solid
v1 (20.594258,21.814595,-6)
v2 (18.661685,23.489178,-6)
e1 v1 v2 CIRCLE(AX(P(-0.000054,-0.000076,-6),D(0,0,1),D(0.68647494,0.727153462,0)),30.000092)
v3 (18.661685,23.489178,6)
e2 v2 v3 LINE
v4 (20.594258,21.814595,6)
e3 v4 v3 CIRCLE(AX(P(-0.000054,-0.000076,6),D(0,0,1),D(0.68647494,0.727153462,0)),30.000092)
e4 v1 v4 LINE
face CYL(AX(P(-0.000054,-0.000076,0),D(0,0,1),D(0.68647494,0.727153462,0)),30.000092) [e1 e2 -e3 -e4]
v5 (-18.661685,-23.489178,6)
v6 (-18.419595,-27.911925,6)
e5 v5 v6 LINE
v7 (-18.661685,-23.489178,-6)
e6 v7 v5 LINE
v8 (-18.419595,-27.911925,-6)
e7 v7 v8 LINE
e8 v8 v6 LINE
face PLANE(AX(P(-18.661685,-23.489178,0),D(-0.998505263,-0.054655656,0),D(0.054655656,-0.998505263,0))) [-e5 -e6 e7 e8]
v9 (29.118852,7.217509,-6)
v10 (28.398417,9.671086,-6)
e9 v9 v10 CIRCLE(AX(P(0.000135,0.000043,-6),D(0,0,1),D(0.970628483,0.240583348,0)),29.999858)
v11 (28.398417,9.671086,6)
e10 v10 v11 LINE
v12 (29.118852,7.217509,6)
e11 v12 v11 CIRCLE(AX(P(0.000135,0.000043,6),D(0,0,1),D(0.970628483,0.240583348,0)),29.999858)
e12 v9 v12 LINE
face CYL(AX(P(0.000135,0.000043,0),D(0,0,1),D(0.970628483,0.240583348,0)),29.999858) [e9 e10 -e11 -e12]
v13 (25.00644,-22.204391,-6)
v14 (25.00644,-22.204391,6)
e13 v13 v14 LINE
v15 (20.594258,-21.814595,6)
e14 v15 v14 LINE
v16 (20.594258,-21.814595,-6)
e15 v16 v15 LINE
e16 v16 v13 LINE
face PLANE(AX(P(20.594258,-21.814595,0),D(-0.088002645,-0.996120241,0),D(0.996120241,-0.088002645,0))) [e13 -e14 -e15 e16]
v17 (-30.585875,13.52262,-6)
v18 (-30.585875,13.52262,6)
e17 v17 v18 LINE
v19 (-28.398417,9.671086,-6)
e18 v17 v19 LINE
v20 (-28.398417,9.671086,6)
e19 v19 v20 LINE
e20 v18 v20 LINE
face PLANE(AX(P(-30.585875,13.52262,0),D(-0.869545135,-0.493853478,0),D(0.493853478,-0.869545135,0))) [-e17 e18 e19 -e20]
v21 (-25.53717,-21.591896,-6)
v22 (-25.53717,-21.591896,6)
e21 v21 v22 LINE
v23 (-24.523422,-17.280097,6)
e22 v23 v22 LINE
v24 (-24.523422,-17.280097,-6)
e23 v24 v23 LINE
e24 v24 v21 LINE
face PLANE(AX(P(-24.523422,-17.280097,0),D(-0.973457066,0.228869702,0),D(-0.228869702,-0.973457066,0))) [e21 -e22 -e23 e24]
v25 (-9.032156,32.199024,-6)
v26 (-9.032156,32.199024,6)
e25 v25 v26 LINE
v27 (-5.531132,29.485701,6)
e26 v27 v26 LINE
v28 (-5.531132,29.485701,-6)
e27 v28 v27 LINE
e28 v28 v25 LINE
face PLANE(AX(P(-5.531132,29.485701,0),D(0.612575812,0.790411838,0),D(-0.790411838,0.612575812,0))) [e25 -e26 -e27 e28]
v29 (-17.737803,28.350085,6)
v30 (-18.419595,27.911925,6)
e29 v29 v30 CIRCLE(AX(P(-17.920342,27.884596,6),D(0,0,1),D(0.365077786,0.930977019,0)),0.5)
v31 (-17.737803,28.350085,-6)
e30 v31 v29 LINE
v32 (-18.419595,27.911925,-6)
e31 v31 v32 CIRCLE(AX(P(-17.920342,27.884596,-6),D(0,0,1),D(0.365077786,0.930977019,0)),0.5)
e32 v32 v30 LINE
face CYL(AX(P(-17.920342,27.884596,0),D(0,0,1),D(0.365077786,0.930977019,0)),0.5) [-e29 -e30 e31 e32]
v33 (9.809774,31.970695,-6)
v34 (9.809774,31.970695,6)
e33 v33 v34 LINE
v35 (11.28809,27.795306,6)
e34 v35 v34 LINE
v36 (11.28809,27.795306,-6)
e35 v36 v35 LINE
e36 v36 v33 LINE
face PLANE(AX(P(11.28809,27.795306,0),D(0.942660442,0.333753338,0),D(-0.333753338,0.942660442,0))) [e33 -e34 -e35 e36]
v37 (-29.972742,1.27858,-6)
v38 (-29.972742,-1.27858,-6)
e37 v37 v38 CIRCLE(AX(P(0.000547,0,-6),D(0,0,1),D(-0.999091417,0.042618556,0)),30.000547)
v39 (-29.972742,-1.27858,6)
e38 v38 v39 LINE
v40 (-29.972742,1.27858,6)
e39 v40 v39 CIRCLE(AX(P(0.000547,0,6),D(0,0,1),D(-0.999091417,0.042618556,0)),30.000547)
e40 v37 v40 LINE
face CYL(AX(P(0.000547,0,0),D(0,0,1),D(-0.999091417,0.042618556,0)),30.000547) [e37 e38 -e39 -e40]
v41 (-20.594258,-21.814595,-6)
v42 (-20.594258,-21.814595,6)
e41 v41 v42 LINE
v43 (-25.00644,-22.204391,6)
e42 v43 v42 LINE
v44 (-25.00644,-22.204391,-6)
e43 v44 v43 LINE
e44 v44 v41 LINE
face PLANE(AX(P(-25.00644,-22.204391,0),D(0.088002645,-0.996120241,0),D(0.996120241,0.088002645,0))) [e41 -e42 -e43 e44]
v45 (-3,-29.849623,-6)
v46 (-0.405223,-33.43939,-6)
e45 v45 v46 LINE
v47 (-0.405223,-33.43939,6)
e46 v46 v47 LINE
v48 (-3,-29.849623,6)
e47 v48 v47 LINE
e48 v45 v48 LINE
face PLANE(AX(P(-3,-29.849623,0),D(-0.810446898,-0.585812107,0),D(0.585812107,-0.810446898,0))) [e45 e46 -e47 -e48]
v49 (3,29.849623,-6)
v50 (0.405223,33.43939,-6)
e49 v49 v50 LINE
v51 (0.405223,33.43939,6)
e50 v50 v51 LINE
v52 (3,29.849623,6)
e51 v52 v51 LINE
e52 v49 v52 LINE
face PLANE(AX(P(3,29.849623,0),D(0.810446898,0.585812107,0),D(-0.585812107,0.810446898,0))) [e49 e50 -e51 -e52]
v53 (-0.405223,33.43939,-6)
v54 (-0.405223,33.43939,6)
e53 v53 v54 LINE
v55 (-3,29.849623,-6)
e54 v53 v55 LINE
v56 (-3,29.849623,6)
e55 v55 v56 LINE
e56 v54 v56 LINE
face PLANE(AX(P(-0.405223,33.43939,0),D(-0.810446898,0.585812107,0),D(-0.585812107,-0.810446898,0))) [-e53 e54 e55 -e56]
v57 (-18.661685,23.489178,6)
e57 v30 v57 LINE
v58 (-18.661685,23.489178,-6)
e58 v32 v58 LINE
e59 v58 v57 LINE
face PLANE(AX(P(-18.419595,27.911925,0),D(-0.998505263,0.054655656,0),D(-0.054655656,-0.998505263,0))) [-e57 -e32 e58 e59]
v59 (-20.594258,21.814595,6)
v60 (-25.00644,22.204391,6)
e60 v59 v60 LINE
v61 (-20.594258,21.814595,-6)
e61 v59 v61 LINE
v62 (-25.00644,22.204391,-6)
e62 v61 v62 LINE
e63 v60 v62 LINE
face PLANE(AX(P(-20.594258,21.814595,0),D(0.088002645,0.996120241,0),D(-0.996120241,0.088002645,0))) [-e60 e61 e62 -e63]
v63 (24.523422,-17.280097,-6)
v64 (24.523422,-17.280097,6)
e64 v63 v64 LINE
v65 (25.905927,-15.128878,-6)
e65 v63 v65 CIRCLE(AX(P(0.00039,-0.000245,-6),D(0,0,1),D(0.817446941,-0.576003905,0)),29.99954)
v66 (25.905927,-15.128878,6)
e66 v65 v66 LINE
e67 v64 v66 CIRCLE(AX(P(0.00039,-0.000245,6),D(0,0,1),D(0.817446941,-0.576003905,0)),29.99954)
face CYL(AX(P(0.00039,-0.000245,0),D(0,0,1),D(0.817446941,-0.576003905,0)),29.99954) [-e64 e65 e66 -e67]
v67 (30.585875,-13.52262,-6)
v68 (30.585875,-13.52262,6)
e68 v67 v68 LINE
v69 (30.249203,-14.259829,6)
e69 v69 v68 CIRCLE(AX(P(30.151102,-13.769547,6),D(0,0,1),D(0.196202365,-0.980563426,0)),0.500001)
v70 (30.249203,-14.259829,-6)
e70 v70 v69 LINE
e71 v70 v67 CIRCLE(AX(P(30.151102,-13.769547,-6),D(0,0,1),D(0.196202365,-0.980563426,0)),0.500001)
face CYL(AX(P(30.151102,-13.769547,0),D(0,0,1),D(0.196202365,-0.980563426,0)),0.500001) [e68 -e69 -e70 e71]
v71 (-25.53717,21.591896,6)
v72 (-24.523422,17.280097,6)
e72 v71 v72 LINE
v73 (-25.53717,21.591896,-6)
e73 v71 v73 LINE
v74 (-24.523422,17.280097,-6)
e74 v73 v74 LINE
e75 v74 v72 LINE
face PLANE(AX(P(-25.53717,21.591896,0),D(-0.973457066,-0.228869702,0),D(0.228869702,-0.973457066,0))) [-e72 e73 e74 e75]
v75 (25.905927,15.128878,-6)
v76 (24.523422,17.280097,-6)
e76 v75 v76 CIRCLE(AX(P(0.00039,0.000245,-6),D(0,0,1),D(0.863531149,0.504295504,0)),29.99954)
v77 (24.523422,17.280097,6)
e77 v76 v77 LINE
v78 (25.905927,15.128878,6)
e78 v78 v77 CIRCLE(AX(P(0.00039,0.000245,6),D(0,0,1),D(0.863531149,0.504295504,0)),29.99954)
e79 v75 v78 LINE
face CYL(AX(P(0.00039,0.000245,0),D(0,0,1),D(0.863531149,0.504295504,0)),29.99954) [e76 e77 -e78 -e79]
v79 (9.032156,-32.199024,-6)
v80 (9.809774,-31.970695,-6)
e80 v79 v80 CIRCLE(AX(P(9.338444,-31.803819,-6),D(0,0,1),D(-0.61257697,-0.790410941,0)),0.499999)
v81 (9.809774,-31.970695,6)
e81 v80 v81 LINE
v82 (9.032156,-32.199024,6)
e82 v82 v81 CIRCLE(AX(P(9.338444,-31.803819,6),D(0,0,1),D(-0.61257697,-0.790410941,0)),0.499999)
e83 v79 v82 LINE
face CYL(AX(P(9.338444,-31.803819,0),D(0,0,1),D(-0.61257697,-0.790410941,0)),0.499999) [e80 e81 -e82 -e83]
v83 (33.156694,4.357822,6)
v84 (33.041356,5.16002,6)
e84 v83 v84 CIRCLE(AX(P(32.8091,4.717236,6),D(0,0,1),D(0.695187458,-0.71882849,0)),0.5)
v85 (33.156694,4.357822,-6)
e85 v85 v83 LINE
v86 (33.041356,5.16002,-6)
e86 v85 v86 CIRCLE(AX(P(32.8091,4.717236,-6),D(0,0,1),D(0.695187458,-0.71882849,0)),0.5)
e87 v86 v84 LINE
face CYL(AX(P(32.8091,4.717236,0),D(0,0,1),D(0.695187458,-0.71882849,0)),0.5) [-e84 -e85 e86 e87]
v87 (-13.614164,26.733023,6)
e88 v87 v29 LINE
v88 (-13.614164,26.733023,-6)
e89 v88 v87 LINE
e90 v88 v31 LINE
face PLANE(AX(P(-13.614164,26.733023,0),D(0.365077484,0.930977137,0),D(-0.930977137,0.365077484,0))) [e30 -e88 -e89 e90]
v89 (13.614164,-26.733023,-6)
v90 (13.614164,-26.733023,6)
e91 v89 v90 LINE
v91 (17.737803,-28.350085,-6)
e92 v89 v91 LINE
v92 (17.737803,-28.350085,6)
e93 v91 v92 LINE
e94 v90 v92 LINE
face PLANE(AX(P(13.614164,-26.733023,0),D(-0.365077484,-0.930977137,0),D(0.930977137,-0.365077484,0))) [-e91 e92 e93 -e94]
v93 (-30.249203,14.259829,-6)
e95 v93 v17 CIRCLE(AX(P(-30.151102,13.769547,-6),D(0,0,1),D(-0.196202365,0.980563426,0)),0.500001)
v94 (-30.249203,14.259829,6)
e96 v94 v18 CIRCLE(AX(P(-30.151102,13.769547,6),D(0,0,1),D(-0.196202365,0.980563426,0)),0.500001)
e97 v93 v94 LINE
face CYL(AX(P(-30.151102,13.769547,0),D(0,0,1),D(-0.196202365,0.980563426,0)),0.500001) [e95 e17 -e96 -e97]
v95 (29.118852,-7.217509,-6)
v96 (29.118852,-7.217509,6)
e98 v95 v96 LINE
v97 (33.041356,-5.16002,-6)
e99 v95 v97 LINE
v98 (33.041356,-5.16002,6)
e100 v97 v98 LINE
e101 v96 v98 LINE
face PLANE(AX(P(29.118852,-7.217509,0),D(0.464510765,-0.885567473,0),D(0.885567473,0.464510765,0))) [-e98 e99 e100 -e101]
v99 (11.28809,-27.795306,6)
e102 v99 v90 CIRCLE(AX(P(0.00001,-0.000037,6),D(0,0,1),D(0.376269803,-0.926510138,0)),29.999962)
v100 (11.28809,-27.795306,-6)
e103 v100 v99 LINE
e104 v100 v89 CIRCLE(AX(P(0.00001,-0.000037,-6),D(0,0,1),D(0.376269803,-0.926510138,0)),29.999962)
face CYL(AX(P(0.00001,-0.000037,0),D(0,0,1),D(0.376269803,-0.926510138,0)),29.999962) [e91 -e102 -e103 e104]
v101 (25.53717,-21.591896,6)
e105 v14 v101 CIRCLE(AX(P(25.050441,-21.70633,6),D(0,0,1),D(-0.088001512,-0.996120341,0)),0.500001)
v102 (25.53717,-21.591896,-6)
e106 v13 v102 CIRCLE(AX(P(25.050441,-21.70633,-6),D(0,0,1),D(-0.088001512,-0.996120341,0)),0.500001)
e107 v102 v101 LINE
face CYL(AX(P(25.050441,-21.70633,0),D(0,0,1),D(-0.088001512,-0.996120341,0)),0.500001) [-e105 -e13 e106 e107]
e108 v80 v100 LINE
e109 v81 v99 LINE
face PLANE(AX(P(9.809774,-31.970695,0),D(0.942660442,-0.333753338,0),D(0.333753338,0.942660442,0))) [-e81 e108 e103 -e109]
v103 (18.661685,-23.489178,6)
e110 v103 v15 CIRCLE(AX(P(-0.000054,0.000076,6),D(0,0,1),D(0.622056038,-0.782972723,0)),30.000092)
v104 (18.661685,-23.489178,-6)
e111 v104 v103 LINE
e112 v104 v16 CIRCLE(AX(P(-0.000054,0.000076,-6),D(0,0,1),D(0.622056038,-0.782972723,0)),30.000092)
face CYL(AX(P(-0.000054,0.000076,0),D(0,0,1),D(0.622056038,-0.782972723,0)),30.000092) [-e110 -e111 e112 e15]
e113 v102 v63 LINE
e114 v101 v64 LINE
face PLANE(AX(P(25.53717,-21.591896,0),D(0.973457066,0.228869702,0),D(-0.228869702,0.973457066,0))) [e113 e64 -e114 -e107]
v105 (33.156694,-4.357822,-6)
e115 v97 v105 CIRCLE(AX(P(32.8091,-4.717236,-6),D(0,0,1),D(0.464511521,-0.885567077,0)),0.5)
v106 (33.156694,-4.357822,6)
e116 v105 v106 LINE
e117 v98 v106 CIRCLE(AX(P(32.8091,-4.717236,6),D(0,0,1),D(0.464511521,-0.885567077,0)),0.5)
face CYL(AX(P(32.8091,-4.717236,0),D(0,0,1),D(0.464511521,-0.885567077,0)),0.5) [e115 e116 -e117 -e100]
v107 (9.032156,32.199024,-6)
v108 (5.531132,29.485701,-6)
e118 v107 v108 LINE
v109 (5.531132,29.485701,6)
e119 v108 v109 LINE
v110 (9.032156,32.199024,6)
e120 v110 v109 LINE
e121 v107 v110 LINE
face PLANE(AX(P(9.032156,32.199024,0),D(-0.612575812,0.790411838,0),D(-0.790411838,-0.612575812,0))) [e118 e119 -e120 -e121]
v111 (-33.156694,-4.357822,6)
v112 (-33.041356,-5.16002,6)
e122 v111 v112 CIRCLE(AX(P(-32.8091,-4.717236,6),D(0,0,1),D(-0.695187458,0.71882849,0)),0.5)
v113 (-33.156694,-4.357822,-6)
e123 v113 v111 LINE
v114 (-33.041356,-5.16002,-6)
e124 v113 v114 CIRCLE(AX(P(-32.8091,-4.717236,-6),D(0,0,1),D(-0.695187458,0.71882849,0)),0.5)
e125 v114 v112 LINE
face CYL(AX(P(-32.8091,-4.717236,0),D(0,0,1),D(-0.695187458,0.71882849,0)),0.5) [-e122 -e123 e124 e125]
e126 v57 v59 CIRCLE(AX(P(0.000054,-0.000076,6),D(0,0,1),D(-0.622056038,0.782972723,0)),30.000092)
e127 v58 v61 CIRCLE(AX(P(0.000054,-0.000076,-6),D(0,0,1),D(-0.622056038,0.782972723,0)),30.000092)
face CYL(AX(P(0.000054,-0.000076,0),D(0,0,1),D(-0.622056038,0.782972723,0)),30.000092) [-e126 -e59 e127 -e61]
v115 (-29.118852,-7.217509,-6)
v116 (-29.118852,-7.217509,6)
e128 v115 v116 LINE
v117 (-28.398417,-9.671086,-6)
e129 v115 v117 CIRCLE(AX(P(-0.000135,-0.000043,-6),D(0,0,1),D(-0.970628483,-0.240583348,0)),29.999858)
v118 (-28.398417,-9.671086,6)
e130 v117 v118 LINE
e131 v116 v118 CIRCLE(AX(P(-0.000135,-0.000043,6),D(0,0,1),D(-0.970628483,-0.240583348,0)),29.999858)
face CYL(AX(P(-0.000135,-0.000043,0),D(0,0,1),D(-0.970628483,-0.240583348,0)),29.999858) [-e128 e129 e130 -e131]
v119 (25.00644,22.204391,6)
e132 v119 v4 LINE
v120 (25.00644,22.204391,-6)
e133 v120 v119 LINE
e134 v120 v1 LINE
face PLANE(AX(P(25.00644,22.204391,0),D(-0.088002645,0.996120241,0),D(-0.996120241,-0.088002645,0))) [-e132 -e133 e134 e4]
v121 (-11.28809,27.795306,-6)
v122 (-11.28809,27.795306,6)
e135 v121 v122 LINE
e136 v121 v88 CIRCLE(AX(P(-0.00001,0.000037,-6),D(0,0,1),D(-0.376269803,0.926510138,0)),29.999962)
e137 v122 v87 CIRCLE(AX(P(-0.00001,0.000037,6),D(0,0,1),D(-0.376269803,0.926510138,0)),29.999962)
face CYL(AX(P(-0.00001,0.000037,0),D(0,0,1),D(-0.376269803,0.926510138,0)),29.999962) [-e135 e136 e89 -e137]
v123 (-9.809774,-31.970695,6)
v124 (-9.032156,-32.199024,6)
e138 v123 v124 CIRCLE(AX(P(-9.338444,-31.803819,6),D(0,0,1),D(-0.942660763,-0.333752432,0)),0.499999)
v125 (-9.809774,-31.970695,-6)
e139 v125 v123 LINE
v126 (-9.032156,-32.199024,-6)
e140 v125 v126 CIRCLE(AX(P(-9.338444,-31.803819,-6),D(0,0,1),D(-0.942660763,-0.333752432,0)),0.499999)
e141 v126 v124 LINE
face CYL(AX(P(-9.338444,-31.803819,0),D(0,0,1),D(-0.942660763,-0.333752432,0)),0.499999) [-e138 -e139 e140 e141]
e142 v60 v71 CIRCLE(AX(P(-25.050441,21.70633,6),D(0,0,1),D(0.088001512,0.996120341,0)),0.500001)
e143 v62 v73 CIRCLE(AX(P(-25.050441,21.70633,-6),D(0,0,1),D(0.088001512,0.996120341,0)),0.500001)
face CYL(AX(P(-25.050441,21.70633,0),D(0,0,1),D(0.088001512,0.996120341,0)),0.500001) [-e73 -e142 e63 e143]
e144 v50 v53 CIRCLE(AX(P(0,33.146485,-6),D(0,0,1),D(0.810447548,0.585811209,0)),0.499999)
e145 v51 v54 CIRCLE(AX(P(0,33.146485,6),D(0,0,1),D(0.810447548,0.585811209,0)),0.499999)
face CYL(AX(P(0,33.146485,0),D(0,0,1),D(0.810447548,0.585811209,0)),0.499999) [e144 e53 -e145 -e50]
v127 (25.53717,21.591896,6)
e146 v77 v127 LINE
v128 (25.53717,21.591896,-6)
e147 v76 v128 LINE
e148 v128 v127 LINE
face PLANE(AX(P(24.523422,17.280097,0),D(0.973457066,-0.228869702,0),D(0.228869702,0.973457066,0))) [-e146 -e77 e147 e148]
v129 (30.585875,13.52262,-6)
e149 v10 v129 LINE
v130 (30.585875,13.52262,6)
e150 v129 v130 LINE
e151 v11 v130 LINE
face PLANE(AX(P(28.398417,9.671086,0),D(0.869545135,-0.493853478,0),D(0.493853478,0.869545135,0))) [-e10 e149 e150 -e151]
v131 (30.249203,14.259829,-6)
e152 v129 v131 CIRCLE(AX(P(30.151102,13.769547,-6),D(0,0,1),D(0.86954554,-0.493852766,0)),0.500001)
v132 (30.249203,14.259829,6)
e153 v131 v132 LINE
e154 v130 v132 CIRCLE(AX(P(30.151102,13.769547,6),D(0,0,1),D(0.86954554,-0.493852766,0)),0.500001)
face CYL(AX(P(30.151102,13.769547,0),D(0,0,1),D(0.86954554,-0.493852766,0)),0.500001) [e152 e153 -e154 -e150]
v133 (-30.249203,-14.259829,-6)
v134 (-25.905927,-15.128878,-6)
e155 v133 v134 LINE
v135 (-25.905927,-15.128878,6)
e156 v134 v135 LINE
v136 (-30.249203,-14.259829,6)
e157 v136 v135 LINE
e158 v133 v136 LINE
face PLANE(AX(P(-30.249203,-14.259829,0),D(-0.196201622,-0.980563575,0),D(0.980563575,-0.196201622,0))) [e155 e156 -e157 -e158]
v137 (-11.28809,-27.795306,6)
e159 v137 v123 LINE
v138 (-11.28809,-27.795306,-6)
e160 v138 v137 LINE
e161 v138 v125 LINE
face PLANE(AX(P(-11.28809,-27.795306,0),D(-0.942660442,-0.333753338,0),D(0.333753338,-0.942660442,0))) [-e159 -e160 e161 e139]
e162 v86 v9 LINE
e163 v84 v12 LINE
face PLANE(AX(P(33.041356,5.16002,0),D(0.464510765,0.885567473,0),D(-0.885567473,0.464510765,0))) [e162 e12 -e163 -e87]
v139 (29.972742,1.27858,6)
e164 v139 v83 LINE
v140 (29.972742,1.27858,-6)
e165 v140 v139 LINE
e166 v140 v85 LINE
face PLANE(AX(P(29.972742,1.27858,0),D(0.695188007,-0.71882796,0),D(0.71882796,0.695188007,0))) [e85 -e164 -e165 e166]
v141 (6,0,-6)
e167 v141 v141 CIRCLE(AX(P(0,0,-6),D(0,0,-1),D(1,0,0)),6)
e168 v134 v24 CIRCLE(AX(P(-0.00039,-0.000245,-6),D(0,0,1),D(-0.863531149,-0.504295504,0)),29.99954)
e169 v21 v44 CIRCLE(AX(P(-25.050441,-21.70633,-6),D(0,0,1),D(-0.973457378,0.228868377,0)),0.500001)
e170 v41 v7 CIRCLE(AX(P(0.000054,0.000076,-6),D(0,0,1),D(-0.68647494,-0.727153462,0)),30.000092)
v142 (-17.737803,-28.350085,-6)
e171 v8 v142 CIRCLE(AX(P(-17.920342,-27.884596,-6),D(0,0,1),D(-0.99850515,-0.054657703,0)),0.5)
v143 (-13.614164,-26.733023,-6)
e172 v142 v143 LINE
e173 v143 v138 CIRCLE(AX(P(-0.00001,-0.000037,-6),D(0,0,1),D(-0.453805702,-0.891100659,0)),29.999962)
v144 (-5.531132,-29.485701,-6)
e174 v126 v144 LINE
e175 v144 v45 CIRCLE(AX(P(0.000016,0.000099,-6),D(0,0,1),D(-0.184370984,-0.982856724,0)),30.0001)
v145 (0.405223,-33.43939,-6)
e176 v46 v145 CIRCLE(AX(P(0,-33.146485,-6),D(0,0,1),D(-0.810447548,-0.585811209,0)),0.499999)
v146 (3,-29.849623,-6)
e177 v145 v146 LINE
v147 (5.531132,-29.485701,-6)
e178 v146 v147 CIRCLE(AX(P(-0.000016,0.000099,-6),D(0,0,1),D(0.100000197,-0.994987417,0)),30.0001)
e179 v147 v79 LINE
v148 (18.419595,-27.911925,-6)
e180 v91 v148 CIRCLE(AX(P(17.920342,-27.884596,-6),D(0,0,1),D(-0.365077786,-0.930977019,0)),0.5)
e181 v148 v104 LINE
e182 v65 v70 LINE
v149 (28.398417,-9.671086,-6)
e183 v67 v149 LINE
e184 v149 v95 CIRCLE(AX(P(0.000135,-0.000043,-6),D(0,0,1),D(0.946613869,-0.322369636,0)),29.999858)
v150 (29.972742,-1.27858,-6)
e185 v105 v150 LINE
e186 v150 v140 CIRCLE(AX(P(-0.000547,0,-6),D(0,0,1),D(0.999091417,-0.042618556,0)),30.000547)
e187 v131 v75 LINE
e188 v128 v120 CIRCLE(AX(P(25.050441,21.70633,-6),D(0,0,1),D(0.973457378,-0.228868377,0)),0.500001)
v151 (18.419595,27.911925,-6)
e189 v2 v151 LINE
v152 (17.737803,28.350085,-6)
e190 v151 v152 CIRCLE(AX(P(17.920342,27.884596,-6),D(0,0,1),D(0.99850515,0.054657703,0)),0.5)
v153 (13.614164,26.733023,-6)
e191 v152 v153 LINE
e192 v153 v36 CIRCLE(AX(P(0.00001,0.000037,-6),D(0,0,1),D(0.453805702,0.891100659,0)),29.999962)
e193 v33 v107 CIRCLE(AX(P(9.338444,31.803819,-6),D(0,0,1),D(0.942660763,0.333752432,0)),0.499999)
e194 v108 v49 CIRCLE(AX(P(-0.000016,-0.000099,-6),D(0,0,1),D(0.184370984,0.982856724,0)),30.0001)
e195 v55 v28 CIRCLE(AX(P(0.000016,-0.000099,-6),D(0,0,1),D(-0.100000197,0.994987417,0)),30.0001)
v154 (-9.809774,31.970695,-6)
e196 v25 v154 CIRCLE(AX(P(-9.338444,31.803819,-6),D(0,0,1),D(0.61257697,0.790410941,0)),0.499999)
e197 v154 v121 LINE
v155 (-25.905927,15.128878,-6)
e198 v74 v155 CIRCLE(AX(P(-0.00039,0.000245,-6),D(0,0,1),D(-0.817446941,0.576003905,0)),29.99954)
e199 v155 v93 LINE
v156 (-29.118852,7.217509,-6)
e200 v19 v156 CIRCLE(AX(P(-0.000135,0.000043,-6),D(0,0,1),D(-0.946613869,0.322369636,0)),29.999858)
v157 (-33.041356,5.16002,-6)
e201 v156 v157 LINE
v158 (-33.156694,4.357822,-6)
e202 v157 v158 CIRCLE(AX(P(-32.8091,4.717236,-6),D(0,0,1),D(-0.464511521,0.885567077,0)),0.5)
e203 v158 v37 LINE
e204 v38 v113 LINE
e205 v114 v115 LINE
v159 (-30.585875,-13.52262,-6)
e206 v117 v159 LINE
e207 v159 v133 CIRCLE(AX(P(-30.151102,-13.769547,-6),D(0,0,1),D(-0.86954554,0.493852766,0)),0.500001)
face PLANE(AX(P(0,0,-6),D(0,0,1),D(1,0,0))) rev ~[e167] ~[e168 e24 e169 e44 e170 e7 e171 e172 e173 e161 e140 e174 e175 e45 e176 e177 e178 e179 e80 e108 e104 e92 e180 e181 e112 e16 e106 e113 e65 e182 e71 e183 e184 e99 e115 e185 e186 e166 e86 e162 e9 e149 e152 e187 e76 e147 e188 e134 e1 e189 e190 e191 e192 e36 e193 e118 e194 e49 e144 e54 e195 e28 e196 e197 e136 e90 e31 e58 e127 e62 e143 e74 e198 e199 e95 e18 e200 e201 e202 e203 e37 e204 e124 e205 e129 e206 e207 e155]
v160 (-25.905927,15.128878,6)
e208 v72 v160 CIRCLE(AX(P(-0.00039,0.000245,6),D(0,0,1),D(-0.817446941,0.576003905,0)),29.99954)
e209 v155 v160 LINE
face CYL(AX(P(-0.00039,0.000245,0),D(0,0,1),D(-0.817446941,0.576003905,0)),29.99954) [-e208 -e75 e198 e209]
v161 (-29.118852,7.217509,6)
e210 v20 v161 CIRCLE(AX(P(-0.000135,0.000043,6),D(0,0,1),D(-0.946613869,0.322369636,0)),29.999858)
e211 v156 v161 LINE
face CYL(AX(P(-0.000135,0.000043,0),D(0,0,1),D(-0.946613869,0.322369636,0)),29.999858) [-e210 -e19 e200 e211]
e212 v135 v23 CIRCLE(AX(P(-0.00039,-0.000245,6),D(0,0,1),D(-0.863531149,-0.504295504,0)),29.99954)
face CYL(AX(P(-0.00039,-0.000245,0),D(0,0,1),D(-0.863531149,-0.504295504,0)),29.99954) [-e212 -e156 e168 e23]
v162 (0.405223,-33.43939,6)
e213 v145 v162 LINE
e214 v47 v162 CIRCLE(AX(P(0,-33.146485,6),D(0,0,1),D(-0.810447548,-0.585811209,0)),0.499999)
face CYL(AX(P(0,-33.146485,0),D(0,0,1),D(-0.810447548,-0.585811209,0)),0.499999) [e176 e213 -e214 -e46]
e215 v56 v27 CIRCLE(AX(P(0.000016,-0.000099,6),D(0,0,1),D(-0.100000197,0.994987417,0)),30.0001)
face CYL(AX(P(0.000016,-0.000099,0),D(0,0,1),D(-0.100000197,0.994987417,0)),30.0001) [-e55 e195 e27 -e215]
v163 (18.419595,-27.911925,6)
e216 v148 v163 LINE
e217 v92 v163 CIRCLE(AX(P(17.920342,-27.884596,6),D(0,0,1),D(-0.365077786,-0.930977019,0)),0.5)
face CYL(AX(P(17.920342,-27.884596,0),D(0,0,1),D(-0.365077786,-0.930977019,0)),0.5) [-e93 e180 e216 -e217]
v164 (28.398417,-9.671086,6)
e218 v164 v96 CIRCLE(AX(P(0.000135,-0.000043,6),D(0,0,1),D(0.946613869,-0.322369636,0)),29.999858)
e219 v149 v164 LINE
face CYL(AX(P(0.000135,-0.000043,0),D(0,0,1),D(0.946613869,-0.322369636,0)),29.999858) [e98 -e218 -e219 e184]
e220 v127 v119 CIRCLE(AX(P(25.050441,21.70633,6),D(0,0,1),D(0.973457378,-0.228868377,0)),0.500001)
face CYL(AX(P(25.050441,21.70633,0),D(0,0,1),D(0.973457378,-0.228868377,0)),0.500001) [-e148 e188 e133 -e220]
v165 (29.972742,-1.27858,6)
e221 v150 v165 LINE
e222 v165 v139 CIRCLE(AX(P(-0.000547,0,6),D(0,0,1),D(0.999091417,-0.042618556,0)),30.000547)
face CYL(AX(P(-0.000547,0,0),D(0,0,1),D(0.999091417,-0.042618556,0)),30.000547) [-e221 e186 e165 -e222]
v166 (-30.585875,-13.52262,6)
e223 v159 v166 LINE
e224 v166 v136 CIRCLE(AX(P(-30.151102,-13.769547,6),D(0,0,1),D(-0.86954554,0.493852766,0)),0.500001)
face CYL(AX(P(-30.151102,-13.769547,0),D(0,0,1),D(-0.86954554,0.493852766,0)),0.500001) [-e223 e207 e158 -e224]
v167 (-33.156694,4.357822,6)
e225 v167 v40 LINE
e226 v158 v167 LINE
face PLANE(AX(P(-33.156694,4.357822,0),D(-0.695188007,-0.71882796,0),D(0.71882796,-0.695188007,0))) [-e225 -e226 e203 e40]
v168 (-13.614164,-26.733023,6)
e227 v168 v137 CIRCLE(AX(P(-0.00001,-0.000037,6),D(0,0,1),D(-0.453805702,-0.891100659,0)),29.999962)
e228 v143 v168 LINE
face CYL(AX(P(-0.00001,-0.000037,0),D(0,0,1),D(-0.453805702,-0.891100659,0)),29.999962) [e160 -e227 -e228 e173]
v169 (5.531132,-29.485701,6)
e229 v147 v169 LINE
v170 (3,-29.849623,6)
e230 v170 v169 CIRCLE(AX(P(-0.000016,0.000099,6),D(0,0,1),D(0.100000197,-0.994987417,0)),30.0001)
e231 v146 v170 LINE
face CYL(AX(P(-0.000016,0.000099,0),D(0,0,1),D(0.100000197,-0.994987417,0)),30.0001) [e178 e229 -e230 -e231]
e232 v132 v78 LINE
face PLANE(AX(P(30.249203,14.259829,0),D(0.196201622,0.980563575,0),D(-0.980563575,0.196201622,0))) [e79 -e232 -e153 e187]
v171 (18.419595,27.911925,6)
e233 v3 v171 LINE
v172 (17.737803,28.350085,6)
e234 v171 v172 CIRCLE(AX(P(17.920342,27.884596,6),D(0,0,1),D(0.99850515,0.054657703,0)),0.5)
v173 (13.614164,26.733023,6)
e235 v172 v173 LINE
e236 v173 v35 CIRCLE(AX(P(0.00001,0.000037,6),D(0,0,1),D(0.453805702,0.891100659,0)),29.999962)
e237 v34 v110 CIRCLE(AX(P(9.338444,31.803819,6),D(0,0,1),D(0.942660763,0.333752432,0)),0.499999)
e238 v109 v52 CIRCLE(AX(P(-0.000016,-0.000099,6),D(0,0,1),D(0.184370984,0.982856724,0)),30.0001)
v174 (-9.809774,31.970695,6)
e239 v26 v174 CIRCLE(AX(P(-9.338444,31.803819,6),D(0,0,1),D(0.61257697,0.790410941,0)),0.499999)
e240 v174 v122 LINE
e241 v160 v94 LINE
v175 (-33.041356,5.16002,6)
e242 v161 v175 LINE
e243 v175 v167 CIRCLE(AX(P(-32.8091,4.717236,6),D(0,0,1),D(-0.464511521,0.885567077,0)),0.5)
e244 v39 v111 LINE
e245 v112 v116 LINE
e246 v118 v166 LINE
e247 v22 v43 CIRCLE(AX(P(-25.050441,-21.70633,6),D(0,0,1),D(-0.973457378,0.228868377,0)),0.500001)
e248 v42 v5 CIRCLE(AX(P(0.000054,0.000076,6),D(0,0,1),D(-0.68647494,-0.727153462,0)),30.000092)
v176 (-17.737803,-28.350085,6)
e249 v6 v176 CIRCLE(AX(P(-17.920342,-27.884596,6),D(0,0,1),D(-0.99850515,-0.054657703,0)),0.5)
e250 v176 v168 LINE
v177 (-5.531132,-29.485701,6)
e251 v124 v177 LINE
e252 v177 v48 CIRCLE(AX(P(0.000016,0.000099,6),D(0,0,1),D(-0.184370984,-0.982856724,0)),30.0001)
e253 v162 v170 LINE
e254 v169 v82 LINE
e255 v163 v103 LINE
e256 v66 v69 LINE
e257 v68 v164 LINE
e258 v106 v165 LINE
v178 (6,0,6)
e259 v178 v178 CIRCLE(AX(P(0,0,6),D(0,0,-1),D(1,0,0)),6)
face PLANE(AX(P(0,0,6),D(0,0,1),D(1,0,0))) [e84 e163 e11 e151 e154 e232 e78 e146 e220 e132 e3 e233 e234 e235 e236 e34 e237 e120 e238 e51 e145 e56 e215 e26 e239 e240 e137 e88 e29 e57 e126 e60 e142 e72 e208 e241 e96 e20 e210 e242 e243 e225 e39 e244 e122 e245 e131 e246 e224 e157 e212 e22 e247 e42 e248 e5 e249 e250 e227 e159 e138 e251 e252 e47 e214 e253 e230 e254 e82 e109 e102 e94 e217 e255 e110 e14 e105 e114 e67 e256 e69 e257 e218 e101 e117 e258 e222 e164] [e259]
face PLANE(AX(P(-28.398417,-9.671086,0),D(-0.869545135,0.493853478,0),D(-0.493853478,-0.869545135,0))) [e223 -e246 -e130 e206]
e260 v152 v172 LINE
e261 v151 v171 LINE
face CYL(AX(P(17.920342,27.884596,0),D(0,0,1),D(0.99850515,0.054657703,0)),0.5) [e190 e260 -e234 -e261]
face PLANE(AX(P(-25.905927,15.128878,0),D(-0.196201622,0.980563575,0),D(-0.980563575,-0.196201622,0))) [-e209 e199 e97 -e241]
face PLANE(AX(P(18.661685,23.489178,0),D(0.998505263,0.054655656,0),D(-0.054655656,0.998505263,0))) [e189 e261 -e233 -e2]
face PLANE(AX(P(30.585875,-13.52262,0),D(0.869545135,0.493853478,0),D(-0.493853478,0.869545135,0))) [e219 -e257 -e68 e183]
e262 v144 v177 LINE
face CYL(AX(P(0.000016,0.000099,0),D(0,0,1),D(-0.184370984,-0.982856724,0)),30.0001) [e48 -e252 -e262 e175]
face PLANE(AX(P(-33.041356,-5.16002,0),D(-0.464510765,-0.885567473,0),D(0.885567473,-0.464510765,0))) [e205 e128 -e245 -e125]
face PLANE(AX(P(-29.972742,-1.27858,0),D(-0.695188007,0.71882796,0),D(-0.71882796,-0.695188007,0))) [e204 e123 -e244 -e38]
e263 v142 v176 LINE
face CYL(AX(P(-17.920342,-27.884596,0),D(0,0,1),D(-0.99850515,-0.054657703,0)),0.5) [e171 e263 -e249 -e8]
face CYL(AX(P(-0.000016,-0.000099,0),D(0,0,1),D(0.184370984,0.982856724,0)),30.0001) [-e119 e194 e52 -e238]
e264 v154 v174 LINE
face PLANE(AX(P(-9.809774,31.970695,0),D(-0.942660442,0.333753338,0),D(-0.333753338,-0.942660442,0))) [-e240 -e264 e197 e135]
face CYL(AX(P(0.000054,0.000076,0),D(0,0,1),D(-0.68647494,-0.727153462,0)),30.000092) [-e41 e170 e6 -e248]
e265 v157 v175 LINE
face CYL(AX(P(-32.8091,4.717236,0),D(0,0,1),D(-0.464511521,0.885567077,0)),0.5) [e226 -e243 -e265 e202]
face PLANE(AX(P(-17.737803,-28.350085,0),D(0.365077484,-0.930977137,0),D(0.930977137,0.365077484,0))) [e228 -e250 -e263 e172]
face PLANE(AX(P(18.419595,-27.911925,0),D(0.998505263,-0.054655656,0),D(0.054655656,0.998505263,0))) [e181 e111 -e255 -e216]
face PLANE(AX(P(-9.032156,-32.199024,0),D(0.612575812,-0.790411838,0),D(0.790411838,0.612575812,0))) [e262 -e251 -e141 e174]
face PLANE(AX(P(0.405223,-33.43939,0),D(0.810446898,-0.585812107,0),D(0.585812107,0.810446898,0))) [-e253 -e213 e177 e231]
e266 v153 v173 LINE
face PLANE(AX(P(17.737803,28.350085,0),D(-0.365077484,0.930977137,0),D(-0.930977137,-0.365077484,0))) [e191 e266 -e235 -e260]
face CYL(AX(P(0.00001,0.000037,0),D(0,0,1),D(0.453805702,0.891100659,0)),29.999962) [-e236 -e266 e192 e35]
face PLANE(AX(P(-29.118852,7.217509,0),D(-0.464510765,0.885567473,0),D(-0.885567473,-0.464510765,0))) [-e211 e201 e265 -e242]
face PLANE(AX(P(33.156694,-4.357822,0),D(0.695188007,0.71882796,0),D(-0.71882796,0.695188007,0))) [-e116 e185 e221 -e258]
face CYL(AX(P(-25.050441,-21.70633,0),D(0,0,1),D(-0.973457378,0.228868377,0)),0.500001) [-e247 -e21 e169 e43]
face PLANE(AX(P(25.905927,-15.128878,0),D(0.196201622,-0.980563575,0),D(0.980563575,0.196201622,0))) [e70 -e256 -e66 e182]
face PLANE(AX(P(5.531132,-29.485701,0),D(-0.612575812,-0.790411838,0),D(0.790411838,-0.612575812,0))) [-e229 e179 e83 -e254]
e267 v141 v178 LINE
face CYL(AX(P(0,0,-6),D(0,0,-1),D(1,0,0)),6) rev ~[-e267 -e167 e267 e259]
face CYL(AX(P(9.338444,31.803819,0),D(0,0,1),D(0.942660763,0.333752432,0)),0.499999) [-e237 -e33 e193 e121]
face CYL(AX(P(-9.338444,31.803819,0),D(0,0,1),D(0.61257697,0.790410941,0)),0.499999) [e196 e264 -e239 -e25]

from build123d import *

# Parameters (mm, degrees)
F1_DEPTH = 6
F2_R     = 6
F3_DEPTH = 25


with BuildPart() as f1:
    # F0 (on Top) → F1 (new body, symmetric)
    with BuildSketch(Plane.XY):
        with BuildLine():
            Line((-25.53717, 21.591896), (-24.523422, 17.280097))
            ThreePointArc((-24.523422, 17.280097), (-25.237606, 16.219225), (-25.905927, 15.128878))
            Line((-25.905927, 15.128878), (-30.249203, 14.259829))
            ThreePointArc((-30.249203, 14.259829), (-30.605918, 13.977255), (-30.585875, 13.52262))
            Line((-30.585875, 13.52262), (-28.398417, 9.671086))
            ThreePointArc((-28.398417, 9.671086), (-28.784789, 8.451977), (-29.118852, 7.217509))
            Line((-29.118852, 7.217509), (-33.041356, 5.16002))
            ThreePointArc((-33.041356, 5.16002), (-33.304011, 4.788394), (-33.156694, 4.357822))
            Line((-33.156694, 4.357822), (-29.972742, 1.27858))
            ThreePointArc((-29.972742, 1.27858), (-30, 0), (-29.972742, -1.27858))
            Line((-29.972742, -1.27858), (-33.156694, -4.357822))
            ThreePointArc((-33.156694, -4.357822), (-33.304011, -4.788394), (-33.041356, -5.16002))
            Line((-33.041356, -5.16002), (-29.118852, -7.217509))
            ThreePointArc((-29.118852, -7.217509), (-28.784789, -8.451977), (-28.398417, -9.671086))
            Line((-28.398417, -9.671086), (-30.585875, -13.52262))
            ThreePointArc((-30.585875, -13.52262), (-30.605918, -13.977255), (-30.249203, -14.259829))
            Line((-30.249203, -14.259829), (-25.905927, -15.128878))
            ThreePointArc((-25.905927, -15.128878), (-25.237606, -16.219225), (-24.523422, -17.280097))
            Line((-24.523422, -17.280097), (-25.53717, -21.591896))
            ThreePointArc((-25.53717, -21.591896), (-25.428316, -22.033761), (-25.00644, -22.204391))
            Line((-25.00644, -22.204391), (-20.594258, -21.814595))
            ThreePointArc((-20.594258, -21.814595), (-19.645822, -22.672487), (-18.661685, -23.489178))
            Line((-18.661685, -23.489178), (-18.419595, -27.911925))
            ThreePointArc((-18.419595, -27.911925), (-18.190663, -28.305223), (-17.737803, -28.350085))
            Line((-17.737803, -28.350085), (-13.614164, -26.733023))
            ThreePointArc((-13.614164, -26.733023), (-12.46245, -27.28896), (-11.28809, -27.795306))
            Line((-11.28809, -27.795306), (-9.809774, -31.970695))
            ThreePointArc((-9.809774, -31.970695), (-9.47931, -32.283565), (-9.032156, -32.199024))
            Line((-9.032156, -32.199024), (-5.531132, -29.485701))
            ThreePointArc((-5.531132, -29.485701), (-4.269445, -29.694643), (-3, -29.849623))
            Line((-3, -29.849623), (-0.405223, -33.43939))
            ThreePointArc((-0.405223, -33.43939), (0, -33.646484), (0.405223, -33.43939))
            Line((0.405223, -33.43939), (3, -29.849623))
            ThreePointArc((3, -29.849623), (4.269445, -29.694643), (5.531132, -29.485701))
            Line((5.531132, -29.485701), (9.032156, -32.199024))
            ThreePointArc((9.032156, -32.199024), (9.47931, -32.283565), (9.809774, -31.970695))
            Line((9.809774, -31.970695), (11.28809, -27.795306))
            ThreePointArc((11.28809, -27.795306), (12.46245, -27.28896), (13.614164, -26.733023))
            Line((13.614164, -26.733023), (17.737803, -28.350085))
            ThreePointArc((17.737803, -28.350085), (18.190663, -28.305223), (18.419595, -27.911925))
            Line((18.419595, -27.911925), (18.661685, -23.489178))
            ThreePointArc((18.661685, -23.489178), (19.645822, -22.672487), (20.594258, -21.814595))
            Line((20.594258, -21.814595), (25.00644, -22.204391))
            ThreePointArc((25.00644, -22.204391), (25.428316, -22.033761), (25.53717, -21.591896))
            Line((25.53717, -21.591896), (24.523422, -17.280097))
            ThreePointArc((24.523422, -17.280097), (25.237606, -16.219225), (25.905927, -15.128878))
            Line((25.905927, -15.128878), (30.249203, -14.259829))
            ThreePointArc((30.249203, -14.259829), (30.605918, -13.977255), (30.585875, -13.52262))
            Line((30.585875, -13.52262), (28.398417, -9.671086))
            ThreePointArc((28.398417, -9.671086), (28.784789, -8.451977), (29.118852, -7.217509))
            Line((29.118852, -7.217509), (33.041356, -5.16002))
            ThreePointArc((33.041356, -5.16002), (33.304011, -4.788394), (33.156694, -4.357822))
            Line((33.156694, -4.357822), (29.972742, -1.27858))
            ThreePointArc((29.972742, -1.27858), (30, 0), (29.972742, 1.27858))
            Line((29.972742, 1.27858), (33.156694, 4.357822))
            ThreePointArc((33.156694, 4.357822), (33.304011, 4.788394), (33.041356, 5.16002))
            Line((33.041356, 5.16002), (29.118852, 7.217509))
            ThreePointArc((29.118852, 7.217509), (28.784789, 8.451977), (28.398417, 9.671086))
            Line((28.398417, 9.671086), (30.585875, 13.52262))
            ThreePointArc((30.585875, 13.52262), (30.605918, 13.977255), (30.249203, 14.259829))
            Line((30.249203, 14.259829), (25.905927, 15.128878))
            ThreePointArc((25.905927, 15.128878), (25.237606, 16.219225), (24.523422, 17.280097))
            Line((24.523422, 17.280097), (25.53717, 21.591896))
            ThreePointArc((25.53717, 21.591896), (25.428316, 22.033761), (25.00644, 22.204391))
            Line((25.00644, 22.204391), (20.594258, 21.814595))
            ThreePointArc((20.594258, 21.814595), (19.645822, 22.672487), (18.661685, 23.489178))
            Line((18.661685, 23.489178), (18.419595, 27.911925))
            ThreePointArc((18.419595, 27.911925), (18.190663, 28.305223), (17.737803, 28.350085))
            Line((17.737803, 28.350085), (13.614164, 26.733023))
            ThreePointArc((13.614164, 26.733023), (12.46245, 27.28896), (11.28809, 27.795306))
            Line((11.28809, 27.795306), (9.809774, 31.970695))
            ThreePointArc((9.809774, 31.970695), (9.47931, 32.283565), (9.032156, 32.199024))
            Line((9.032156, 32.199024), (5.531132, 29.485701))
            ThreePointArc((5.531132, 29.485701), (4.269445, 29.694643), (3, 29.849623))
            Line((3, 29.849623), (0.405223, 33.43939))
            ThreePointArc((0.405223, 33.43939), (0, 33.646484), (-0.405223, 33.43939))
            Line((-0.405223, 33.43939), (-3, 29.849623))
            ThreePointArc((-3, 29.849623), (-4.269445, 29.694643), (-5.531132, 29.485701))
            Line((-5.531132, 29.485701), (-9.032156, 32.199024))
            ThreePointArc((-9.032156, 32.199024), (-9.47931, 32.283565), (-9.809774, 31.970695))
            Line((-9.809774, 31.970695), (-11.28809, 27.795306))
            ThreePointArc((-11.28809, 27.795306), (-12.46245, 27.28896), (-13.614164, 26.733023))
            Line((-13.614164, 26.733023), (-17.737803, 28.350085))
            ThreePointArc((-17.737803, 28.350085), (-18.190663, 28.305223), (-18.419595, 27.911925))
            Line((-18.419595, 27.911925), (-18.661685, 23.489178))
            ThreePointArc((-18.661685, 23.489178), (-19.645822, 22.672487), (-20.594258, 21.814595))
            Line((-20.594258, 21.814595), (-25.00644, 22.204391))
            ThreePointArc((-25.00644, 22.204391), (-25.428316, 22.033761), (-25.53717, 21.591896))
        make_face()
    extrude(amount=F1_DEPTH, both=True)

    # F2 (on face) → F3 (cut)
    with BuildSketch(Plane(origin=(0, 0, -6), x_dir=(1, 0, 0), z_dir=(0, 0, -1))):
        Circle(F2_R)
    extrude(amount=-F3_DEPTH, mode=Mode.SUBTRACT)


solid = f1.part
